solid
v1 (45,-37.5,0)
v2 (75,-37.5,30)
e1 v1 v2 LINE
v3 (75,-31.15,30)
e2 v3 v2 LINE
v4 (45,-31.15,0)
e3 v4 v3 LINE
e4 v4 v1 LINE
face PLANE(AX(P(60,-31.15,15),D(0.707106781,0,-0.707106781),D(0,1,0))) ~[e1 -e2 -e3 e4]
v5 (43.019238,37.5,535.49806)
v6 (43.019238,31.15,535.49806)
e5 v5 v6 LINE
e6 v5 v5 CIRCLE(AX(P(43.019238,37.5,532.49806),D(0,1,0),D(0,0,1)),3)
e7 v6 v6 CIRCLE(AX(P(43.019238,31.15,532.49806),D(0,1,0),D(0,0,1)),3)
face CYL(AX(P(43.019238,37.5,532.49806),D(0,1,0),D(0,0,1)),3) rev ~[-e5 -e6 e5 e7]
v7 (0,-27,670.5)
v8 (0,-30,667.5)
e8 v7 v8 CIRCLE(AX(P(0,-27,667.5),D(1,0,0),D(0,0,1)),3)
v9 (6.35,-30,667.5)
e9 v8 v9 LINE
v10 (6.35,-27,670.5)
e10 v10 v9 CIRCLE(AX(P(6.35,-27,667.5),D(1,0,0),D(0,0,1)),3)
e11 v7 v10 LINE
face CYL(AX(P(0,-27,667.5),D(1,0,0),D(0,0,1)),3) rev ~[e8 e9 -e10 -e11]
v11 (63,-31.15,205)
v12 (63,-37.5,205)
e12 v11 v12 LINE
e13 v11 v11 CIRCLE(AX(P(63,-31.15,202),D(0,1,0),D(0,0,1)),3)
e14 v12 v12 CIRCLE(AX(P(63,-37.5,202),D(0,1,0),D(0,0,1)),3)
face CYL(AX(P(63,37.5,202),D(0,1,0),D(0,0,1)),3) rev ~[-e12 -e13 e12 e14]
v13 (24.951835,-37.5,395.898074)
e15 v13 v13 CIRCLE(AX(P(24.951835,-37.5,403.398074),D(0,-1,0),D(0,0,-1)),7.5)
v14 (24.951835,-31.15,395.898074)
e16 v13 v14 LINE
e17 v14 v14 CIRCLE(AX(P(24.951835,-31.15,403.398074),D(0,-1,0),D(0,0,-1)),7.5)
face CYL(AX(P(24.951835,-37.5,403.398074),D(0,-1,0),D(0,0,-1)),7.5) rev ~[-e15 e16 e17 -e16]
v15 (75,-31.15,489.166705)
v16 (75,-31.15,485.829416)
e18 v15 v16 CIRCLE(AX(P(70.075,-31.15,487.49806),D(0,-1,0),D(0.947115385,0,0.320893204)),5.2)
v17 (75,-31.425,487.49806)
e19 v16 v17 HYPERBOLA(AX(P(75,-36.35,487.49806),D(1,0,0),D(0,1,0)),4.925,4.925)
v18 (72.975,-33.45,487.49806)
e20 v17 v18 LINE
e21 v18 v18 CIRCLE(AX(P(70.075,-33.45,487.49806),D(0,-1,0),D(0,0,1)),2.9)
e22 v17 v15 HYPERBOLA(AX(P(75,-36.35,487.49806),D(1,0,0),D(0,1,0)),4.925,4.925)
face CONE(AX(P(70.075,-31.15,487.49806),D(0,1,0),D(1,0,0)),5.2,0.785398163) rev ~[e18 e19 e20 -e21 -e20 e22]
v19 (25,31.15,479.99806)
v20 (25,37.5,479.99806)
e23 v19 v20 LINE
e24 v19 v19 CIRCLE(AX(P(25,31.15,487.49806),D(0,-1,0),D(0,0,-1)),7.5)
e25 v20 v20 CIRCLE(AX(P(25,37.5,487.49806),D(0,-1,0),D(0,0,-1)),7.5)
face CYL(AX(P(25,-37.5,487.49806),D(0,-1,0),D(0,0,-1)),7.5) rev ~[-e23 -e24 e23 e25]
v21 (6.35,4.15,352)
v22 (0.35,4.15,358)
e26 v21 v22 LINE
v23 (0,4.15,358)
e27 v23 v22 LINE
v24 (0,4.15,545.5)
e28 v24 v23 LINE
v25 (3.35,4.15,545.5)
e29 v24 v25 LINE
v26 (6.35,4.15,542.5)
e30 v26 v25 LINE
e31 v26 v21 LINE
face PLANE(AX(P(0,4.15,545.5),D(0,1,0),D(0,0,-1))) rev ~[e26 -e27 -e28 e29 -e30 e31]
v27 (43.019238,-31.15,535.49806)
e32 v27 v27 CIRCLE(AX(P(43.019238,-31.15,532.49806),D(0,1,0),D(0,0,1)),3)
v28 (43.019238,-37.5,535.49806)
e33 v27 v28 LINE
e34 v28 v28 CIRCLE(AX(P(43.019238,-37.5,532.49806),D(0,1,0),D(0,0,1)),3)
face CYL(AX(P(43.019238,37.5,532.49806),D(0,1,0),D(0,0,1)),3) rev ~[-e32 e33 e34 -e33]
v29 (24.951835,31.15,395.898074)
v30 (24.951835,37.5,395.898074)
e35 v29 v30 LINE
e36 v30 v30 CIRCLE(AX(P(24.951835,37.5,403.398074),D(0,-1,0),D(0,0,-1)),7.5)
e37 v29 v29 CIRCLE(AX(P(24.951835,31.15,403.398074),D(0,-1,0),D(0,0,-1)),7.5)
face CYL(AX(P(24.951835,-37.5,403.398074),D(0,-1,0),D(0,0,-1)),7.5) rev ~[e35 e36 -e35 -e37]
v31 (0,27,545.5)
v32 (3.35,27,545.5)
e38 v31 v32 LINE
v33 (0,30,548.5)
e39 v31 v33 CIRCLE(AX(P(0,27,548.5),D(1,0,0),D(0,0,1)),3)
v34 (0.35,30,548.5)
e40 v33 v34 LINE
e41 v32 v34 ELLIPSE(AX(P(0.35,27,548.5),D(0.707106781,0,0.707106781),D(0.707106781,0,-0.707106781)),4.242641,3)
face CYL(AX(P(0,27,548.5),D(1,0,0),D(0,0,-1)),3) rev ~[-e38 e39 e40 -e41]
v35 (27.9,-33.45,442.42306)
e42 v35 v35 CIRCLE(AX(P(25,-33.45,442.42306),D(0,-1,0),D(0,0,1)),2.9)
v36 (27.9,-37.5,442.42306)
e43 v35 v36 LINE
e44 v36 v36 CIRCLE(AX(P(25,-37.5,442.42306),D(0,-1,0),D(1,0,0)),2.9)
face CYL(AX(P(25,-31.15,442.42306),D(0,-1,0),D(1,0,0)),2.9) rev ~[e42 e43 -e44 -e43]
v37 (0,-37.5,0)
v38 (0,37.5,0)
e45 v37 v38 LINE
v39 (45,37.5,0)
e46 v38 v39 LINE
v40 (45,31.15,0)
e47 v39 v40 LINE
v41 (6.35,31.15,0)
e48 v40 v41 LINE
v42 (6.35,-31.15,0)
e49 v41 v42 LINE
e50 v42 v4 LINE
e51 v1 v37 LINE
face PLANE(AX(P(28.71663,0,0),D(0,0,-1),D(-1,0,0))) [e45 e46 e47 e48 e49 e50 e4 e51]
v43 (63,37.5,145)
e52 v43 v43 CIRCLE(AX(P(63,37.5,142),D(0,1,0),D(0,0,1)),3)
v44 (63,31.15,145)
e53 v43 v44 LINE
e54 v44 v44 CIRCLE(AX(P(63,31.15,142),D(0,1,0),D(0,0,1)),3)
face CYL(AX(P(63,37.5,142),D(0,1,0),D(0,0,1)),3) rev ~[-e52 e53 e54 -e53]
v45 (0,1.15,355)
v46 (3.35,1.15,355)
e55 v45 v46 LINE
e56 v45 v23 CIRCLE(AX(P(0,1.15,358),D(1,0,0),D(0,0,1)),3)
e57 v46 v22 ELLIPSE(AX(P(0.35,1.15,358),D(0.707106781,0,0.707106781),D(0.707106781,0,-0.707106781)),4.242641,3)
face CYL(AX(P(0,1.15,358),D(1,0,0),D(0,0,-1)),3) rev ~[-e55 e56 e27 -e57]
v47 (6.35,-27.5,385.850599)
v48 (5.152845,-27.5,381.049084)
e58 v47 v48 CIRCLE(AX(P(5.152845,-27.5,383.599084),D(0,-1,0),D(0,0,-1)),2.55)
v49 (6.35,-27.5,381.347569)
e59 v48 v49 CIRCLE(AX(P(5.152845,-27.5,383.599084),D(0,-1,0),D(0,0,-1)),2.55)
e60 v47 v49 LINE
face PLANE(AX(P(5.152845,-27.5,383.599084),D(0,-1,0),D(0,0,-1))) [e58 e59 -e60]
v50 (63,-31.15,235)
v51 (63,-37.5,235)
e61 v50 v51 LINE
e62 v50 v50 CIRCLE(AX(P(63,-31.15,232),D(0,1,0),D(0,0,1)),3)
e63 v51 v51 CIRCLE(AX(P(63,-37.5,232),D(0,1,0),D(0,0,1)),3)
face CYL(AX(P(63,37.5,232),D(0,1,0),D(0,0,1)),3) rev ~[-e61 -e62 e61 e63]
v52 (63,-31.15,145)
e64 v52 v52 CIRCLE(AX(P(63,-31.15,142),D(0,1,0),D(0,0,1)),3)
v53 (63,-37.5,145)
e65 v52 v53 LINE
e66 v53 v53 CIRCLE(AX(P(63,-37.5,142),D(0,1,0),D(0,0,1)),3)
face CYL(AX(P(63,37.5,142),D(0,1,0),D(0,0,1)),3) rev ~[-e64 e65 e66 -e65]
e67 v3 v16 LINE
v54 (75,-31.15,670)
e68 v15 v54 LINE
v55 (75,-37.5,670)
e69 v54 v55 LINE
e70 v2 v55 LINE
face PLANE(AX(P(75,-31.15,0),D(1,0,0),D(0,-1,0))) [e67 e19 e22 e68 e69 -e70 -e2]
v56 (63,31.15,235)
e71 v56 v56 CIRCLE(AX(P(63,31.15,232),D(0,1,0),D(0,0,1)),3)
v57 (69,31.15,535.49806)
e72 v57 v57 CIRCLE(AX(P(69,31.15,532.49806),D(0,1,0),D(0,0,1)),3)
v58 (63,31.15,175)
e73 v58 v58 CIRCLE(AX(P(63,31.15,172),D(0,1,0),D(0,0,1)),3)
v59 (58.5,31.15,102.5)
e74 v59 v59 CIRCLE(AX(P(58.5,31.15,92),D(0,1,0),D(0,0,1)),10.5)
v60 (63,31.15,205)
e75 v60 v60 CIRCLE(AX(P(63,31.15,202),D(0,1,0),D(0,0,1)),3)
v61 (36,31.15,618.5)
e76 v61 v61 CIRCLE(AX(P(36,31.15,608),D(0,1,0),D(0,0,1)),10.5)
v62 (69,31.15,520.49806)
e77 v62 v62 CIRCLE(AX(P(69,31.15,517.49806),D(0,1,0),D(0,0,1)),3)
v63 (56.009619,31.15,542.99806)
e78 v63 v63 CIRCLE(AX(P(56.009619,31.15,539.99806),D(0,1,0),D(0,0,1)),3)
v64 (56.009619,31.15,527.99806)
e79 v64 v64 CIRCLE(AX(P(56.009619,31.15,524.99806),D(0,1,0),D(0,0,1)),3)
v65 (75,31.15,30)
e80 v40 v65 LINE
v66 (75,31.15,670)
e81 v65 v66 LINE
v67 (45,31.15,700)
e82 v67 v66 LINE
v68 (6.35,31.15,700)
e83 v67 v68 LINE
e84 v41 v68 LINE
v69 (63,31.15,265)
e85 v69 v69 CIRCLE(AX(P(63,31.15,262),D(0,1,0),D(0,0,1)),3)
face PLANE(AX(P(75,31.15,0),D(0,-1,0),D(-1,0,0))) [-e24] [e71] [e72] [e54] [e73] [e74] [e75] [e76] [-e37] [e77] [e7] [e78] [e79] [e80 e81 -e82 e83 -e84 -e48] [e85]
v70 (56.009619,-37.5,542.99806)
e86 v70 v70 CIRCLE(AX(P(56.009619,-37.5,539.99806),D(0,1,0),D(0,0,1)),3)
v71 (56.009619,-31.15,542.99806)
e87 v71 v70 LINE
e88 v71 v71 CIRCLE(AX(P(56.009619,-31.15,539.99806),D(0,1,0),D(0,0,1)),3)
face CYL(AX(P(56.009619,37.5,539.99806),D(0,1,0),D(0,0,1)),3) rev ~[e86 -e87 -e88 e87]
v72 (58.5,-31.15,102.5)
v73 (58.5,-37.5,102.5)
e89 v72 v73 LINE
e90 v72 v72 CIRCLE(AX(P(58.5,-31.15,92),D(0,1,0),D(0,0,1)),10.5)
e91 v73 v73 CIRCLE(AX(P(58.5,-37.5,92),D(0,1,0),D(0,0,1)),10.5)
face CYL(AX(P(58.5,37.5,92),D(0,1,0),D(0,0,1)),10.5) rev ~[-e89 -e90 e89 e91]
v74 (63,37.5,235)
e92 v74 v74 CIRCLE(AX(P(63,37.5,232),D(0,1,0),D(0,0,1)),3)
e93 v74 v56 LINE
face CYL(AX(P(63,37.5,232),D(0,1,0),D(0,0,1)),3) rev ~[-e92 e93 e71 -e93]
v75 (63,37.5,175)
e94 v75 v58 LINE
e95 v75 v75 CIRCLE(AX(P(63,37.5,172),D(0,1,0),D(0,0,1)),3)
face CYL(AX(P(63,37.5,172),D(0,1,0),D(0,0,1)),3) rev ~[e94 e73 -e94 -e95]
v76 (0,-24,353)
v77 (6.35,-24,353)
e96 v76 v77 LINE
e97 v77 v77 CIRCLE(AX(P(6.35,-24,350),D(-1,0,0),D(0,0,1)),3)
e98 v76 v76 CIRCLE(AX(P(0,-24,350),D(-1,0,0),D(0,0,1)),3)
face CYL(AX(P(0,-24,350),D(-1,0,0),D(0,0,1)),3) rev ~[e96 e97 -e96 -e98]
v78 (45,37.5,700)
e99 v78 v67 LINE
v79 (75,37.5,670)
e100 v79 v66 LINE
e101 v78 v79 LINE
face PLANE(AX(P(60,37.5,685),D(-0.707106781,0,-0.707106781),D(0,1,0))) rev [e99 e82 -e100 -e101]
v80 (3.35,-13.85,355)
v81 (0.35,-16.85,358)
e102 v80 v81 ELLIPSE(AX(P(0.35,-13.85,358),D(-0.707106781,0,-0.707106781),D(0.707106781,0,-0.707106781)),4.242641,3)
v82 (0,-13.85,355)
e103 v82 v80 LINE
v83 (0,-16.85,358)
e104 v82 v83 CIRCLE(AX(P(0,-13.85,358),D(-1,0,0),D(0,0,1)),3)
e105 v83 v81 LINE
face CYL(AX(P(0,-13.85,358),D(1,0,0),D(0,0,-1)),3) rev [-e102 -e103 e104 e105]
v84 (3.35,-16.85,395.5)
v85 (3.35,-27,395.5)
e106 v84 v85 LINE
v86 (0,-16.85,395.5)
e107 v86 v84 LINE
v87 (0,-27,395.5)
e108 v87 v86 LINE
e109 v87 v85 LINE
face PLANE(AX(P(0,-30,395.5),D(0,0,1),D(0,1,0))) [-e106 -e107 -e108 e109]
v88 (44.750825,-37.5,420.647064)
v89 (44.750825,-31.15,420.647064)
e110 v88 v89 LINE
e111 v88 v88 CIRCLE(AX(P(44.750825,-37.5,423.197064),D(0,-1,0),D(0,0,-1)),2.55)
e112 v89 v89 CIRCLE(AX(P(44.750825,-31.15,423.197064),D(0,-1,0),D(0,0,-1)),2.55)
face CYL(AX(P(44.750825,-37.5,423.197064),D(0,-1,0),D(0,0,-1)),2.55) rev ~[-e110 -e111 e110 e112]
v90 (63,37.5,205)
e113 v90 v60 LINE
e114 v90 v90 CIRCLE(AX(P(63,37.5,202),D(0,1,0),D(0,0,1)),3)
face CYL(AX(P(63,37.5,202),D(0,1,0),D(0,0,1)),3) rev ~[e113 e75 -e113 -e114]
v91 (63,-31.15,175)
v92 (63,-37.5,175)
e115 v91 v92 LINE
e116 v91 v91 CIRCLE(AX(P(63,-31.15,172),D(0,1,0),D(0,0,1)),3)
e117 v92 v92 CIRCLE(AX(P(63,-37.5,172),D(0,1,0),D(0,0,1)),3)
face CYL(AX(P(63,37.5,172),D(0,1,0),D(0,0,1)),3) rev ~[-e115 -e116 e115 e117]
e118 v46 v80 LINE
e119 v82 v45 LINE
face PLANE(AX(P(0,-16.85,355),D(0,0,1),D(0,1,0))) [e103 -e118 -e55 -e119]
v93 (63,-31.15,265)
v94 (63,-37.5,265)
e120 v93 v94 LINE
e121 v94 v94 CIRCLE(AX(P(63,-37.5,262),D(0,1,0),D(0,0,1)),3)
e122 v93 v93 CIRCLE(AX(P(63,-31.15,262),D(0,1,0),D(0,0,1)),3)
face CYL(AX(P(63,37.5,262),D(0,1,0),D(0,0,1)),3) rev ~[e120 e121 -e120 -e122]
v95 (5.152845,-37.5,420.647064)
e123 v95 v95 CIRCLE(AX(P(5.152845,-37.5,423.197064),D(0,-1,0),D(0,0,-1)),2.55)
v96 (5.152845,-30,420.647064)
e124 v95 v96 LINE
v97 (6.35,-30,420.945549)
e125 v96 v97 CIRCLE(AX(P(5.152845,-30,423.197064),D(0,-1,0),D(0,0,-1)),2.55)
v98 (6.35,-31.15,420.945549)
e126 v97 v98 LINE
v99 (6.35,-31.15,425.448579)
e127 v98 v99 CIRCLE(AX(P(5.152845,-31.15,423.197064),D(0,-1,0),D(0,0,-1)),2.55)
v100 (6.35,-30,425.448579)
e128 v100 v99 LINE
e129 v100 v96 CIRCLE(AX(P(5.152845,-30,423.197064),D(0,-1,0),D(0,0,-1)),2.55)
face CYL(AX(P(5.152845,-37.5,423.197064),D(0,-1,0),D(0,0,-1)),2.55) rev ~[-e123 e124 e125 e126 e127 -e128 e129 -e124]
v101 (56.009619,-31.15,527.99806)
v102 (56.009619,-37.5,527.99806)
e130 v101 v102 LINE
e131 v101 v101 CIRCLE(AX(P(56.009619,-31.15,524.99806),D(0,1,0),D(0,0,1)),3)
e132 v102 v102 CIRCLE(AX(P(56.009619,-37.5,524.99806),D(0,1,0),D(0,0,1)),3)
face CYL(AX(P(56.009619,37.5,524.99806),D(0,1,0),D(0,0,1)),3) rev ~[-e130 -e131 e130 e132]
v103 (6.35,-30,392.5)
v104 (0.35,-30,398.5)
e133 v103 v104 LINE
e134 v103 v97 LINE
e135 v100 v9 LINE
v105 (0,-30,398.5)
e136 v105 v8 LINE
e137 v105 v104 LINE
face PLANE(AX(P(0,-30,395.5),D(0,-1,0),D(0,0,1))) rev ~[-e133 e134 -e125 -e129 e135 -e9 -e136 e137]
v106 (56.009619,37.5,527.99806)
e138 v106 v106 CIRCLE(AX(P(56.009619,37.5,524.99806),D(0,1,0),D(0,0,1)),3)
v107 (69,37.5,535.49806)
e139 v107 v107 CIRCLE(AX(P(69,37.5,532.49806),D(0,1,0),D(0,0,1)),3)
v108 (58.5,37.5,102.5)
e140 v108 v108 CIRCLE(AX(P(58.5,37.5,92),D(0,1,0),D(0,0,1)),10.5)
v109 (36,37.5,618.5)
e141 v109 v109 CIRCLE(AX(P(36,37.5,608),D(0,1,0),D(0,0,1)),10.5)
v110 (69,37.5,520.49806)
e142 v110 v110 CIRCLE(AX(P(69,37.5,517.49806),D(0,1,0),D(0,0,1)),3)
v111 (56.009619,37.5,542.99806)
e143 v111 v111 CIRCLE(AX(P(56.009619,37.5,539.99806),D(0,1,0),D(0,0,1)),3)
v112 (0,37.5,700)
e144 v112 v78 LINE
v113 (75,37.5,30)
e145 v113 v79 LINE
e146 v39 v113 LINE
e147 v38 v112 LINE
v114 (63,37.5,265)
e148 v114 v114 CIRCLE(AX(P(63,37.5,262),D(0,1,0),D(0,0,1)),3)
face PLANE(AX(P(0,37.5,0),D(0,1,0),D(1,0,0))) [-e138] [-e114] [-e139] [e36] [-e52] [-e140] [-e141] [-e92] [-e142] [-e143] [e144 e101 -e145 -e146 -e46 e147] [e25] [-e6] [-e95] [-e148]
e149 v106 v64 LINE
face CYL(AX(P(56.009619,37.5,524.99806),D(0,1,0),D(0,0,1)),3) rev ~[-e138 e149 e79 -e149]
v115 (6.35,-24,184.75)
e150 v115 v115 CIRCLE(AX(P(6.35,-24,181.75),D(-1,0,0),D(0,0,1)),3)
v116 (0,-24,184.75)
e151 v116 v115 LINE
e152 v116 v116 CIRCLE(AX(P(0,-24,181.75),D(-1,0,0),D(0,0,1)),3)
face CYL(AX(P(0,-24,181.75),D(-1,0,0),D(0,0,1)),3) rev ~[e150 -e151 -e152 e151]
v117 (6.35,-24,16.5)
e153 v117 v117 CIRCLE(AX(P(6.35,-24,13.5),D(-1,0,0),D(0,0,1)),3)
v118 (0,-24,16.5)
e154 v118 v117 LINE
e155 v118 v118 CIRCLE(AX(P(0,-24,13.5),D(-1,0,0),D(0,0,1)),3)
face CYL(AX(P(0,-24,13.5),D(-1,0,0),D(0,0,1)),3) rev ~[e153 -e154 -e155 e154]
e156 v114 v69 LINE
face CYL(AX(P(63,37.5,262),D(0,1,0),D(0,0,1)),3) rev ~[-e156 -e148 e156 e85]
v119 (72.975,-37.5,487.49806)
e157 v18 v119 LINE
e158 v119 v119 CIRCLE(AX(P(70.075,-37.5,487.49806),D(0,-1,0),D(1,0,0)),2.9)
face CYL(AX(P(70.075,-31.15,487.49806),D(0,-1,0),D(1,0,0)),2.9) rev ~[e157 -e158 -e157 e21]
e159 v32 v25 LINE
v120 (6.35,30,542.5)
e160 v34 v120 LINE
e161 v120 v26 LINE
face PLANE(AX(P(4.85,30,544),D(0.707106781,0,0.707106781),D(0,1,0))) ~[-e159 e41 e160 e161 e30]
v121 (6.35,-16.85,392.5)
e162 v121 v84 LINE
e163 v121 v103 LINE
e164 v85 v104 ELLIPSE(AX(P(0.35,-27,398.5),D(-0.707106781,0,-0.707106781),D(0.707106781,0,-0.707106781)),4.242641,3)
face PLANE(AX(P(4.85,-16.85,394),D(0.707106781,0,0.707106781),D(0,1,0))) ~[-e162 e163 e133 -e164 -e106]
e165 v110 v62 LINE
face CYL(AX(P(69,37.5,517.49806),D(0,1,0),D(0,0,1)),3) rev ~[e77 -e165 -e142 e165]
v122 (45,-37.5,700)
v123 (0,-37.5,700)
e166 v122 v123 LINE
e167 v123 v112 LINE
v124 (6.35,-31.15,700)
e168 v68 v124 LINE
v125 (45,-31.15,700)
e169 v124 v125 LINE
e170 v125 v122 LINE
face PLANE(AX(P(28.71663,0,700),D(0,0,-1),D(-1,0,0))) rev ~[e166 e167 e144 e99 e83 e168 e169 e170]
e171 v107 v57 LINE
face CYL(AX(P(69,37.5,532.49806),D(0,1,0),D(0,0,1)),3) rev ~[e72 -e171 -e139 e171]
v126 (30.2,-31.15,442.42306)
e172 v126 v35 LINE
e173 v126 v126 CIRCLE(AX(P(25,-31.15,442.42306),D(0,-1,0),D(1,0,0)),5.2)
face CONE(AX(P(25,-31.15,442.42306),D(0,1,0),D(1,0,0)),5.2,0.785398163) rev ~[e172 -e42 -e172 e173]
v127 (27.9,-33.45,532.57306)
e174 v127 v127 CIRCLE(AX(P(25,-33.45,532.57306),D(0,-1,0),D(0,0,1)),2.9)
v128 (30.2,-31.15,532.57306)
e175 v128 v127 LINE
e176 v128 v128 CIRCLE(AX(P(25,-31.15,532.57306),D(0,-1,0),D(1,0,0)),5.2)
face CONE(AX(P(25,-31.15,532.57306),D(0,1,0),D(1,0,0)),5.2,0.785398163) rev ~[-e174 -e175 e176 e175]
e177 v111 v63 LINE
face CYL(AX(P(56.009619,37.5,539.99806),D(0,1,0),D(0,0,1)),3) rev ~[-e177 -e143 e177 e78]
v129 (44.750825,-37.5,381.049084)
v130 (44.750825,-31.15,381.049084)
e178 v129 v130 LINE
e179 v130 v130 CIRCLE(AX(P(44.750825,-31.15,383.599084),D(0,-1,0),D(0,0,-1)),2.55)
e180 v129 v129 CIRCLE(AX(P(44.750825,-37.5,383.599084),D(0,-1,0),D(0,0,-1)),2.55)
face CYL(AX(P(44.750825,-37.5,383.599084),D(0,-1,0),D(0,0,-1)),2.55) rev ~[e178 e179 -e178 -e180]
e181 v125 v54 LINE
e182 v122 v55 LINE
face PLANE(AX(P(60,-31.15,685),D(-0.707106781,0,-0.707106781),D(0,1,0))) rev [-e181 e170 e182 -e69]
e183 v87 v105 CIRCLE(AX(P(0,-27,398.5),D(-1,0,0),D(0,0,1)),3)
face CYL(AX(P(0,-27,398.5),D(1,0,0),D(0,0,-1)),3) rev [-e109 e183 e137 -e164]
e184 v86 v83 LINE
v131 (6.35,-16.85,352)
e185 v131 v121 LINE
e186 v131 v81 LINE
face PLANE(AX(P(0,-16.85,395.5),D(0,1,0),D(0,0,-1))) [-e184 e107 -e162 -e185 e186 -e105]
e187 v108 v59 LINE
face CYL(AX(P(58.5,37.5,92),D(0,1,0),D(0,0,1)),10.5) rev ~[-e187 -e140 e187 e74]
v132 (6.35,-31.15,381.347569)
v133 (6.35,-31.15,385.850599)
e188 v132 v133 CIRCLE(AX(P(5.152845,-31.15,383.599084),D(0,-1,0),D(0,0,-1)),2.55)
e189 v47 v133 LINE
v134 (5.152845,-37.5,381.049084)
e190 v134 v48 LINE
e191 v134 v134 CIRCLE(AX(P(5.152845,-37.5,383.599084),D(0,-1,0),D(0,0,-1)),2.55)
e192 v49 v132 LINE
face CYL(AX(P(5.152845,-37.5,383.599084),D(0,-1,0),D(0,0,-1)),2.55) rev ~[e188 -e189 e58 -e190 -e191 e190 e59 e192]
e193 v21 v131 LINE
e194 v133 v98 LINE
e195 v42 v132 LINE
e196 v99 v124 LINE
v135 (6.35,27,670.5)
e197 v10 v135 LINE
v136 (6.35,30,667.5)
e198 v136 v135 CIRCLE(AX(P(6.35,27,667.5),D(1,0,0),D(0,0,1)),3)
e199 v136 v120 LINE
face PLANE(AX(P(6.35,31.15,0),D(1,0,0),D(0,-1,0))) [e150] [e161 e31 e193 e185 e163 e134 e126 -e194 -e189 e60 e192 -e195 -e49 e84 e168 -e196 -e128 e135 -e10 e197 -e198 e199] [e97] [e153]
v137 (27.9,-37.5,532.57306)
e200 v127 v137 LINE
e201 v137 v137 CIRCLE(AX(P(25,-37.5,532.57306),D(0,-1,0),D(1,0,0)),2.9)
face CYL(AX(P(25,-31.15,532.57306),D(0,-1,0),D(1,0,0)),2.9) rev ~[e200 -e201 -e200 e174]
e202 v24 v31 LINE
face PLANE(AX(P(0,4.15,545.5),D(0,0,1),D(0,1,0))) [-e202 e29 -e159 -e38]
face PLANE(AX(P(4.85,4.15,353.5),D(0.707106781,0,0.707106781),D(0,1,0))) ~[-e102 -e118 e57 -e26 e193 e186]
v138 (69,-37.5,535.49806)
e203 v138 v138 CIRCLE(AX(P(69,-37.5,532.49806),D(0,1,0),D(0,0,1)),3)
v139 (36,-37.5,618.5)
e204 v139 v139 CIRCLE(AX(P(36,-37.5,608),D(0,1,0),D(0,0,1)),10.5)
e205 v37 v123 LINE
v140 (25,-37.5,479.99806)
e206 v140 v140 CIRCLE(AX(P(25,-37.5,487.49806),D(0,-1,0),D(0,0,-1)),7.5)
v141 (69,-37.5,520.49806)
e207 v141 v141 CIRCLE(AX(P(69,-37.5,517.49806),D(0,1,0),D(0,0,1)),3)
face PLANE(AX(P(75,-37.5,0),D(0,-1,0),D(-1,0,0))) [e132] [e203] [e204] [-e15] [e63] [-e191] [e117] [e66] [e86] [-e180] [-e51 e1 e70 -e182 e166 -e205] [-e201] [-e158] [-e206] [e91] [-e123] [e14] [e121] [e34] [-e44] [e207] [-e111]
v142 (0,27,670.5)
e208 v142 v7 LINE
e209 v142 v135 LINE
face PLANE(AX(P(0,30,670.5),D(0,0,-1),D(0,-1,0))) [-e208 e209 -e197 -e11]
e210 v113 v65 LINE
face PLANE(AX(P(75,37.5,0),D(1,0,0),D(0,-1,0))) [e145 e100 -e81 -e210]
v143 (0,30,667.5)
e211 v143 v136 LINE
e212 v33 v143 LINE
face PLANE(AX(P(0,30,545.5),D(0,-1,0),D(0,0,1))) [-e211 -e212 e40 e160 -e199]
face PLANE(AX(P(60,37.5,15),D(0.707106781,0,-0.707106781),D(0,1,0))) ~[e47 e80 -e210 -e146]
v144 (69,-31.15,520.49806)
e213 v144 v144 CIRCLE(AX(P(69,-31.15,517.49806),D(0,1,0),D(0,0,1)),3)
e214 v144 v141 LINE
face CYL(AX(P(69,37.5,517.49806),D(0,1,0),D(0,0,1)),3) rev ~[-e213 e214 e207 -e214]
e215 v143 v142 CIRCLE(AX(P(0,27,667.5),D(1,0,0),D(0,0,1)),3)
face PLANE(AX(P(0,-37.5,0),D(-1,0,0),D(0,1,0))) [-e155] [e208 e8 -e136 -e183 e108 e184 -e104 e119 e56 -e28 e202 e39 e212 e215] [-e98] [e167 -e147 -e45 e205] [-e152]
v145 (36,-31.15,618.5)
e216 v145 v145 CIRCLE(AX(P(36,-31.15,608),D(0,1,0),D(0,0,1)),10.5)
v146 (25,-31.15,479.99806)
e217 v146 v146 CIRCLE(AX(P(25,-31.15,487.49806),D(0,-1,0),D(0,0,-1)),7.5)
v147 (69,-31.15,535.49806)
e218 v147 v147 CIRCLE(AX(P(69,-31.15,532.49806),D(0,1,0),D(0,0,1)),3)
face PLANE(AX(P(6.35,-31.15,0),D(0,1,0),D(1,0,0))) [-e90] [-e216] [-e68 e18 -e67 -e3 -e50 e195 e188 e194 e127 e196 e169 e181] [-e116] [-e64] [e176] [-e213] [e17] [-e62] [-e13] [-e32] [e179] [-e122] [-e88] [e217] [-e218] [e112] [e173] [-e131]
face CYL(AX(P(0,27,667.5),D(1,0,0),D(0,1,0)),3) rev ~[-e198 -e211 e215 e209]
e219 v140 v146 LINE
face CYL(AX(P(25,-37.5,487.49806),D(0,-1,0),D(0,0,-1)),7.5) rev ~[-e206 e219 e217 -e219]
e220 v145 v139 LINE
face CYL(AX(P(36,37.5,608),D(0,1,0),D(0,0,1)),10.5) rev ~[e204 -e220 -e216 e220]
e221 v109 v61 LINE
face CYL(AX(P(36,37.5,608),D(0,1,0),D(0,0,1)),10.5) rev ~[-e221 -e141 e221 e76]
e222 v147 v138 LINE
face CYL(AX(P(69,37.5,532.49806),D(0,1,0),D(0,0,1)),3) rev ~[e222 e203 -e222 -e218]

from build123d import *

# Parameters (mm, degrees)
BOSS_EXTRUDE1_DEPTH                                 = 700
CUT_EXTRUDE1_DEPTH                                  = 706.00443261
CHAMFER1_SIZE                                       = 30
SKETCH4_R                                           = 10.5
CUT_EXTRUDE2_DEPTH                                  = 708.990112925
SKETCH5_R                                           = 7.5
CUT_EXTRUDE3_DEPTH                                  = 708.990112925
CHAMFER2_SIZE                                       = 3
FILLET1_R                                           = 3
SKETCH6_R                                           = 3
TENSIONER_HOLES_DEPTH                               = 708.990112925
CSK_FOR_M5_COUNTERSUNK_FLAT_HEAD_SCREW1_D           = 5.8
CSK_FOR_M5_COUNTERSUNK_FLAT_HEAD_SCREW1_DEPTH       = 12
CSK_FOR_M5_COUNTERSUNK_FLAT_HEAD_SCREW1_CSINK_D     = 10.4
CSK_FOR_M5_COUNTERSUNK_FLAT_HEAD_SCREW1_CSINK_ANGLE = 90
CSK_FOR_M5_COUNTERSUNK_FLAT_HEAD_SCREW1_TIP         = 1.742495795
SKETCH11_R                                          = 3
CUT_EXTRUDE4_DEPTH                                  = 10
SKETCH13_R                                          = 2.55
CUT_EXTRUDE5_DEPTH                                  = 10


with BuildPart() as part:
    # Sketch1 → Boss-Extrude1 (new body)
    with BuildSketch(Plane.XY):
        Polygon((0, -37.5), (0, 37.5), (75, 37.5), (75, 31.15), (6.35, 31.15), (6.35, -31.15), (75, -31.15), (75, -37.5), align=None)
    extrude(amount=BOSS_EXTRUDE1_DEPTH)

    # Sketch3 → Cut-Extrude1 (cut, through all)
    with BuildSketch(Plane.ZY):
        Polygon((670.5, -30), (545.5, -30), (395.5, -30), (395.5, -16.85), (355, -16.85), (355, 4.15), (460, 4.15), (545.5, 4.15), (545.5, 30), (670.5, 30), align=None)
    extrude(amount=-CUT_EXTRUDE1_DEPTH, mode=Mode.SUBTRACT)

    # Chamfer1
    chamfer1_edges = [part.edges().sort_by_distance(p)[0] for p in [
        (75, 34.325, 700),
        (75, -34.325, 700),
        (75, -34.325, 0),
        (75, 34.325, 0),
    ]]
    chamfer(chamfer1_edges, length=CHAMFER1_SIZE)

    # Sketch4 → Cut-Extrude2 (cut, through all)
    with BuildSketch(Plane(origin=(0, 37.5, 0), x_dir=(1, 0, 0), z_dir=(0, 1, 0))):
        with Locations((36, -608)):
            Circle(SKETCH4_R)
        with Locations((58.5, -92)):
            Circle(SKETCH4_R)
    extrude(amount=-CUT_EXTRUDE2_DEPTH, mode=Mode.SUBTRACT)

    # Sketch5 → Cut-Extrude3 (cut, through all)
    with BuildSketch(Plane.XZ.offset(37.5)):
        with Locations((25, 487.498060398)):
            Circle(SKETCH5_R)
        with Locations((24.951834767, 403.39807419)):
            Circle(SKETCH5_R)
    extrude(amount=-CUT_EXTRUDE3_DEPTH, mode=Mode.SUBTRACT)

    # Chamfer2
    chamfer2_edges = [part.edges().sort_by_distance(p)[0] for p in [
        (6.35, 17.075, 545.5),
        (6.35, -23.425, 395.5),
        (6.35, -6.35, 355),
    ]]
    chamfer(chamfer2_edges, length=CHAMFER2_SIZE)

    # Fillet1
    fillet1_edges = [part.edges().sort_by_distance(p)[0] for p in [
        (1.675, -16.85, 355),
        (1.675, 4.15, 355),
        (3.175, 30, 670.5),
        (3.175, -30, 670.5),
        (1.675, 30, 545.5),
        (1.675, -30, 395.5),
    ]]
    fillet(fillet1_edges, radius=FILLET1_R)

    # Sketch6 → tensioner holes (cut, through all)
    with BuildSketch(Plane(origin=(0, 37.5, 0), x_dir=(1, 0, 0), z_dir=(0, 1, 0))):
        with Locations((69, -517.498060398)):
            Circle(SKETCH6_R)
        with Locations((69, -532.498060398)):
            Circle(SKETCH6_R)
        with Locations((56.009618943, -524.998060398)):
            Circle(SKETCH6_R)
        with Locations((56.009618943, -539.998060398)):
            Circle(SKETCH6_R)
        with Locations((63, -262)):
            Circle(SKETCH6_R)
        with Locations((63, -232)):
            Circle(SKETCH6_R)
        with Locations((63, -202)):
            Circle(SKETCH6_R)
        with Locations((63, -172)):
            Circle(SKETCH6_R)
        with Locations((63, -142)):
            Circle(SKETCH6_R)
        with Locations((43.019237886, -532.498060398)):
            Circle(SKETCH6_R)
    extrude(amount=-TENSIONER_HOLES_DEPTH, mode=Mode.SUBTRACT)

    # CSK for M5 Countersunk Flat Head Screw1
    with Locations(Plane(origin=(0, -31.15, 0), x_dir=(-1, 0, 0), z_dir=(0, 1, 0))):
        with Locations((-25, 532.573060398), (-25, 442.423060398), (-70.075, 487.498060398)):
            CounterSinkHole(CSK_FOR_M5_COUNTERSUNK_FLAT_HEAD_SCREW1_D / 2, CSK_FOR_M5_COUNTERSUNK_FLAT_HEAD_SCREW1_CSINK_D / 2, depth=CSK_FOR_M5_COUNTERSUNK_FLAT_HEAD_SCREW1_DEPTH, counter_sink_angle=CSK_FOR_M5_COUNTERSUNK_FLAT_HEAD_SCREW1_CSINK_ANGLE)
            with Locations((0, 0, -(CSK_FOR_M5_COUNTERSUNK_FLAT_HEAD_SCREW1_DEPTH + CSK_FOR_M5_COUNTERSUNK_FLAT_HEAD_SCREW1_TIP / 2))):  # 118° drill point
                Cone(0, CSK_FOR_M5_COUNTERSUNK_FLAT_HEAD_SCREW1_D / 2, CSK_FOR_M5_COUNTERSUNK_FLAT_HEAD_SCREW1_TIP, mode=Mode.SUBTRACT)

    # Sketch11 → Cut-Extrude4 (cut)
    with BuildSketch(Plane.ZY):
        with Locations((350, -24)):
            Circle(SKETCH11_R)
        with Locations((13.5, -24)):
            Circle(SKETCH11_R)
        with Locations((181.75, -24)):
            Circle(SKETCH11_R)
    extrude(amount=-CUT_EXTRUDE4_DEPTH, mode=Mode.SUBTRACT)

    # Sketch13 → Cut-Extrude5 (cut)
    with BuildSketch(Plane.XZ.offset(37.5)):
        with Locations((5.152844894, 423.197064064)):
            Circle(SKETCH13_R)
        with Locations((5.152844894, 383.599084317)):
            Circle(SKETCH13_R)
        with Locations((44.75082464, 383.599084317)):
            Circle(SKETCH13_R)
        with Locations((44.75082464, 423.197064064)):
            Circle(SKETCH13_R)
    extrude(amount=-CUT_EXTRUDE5_DEPTH, mode=Mode.SUBTRACT)


solid = part.part
